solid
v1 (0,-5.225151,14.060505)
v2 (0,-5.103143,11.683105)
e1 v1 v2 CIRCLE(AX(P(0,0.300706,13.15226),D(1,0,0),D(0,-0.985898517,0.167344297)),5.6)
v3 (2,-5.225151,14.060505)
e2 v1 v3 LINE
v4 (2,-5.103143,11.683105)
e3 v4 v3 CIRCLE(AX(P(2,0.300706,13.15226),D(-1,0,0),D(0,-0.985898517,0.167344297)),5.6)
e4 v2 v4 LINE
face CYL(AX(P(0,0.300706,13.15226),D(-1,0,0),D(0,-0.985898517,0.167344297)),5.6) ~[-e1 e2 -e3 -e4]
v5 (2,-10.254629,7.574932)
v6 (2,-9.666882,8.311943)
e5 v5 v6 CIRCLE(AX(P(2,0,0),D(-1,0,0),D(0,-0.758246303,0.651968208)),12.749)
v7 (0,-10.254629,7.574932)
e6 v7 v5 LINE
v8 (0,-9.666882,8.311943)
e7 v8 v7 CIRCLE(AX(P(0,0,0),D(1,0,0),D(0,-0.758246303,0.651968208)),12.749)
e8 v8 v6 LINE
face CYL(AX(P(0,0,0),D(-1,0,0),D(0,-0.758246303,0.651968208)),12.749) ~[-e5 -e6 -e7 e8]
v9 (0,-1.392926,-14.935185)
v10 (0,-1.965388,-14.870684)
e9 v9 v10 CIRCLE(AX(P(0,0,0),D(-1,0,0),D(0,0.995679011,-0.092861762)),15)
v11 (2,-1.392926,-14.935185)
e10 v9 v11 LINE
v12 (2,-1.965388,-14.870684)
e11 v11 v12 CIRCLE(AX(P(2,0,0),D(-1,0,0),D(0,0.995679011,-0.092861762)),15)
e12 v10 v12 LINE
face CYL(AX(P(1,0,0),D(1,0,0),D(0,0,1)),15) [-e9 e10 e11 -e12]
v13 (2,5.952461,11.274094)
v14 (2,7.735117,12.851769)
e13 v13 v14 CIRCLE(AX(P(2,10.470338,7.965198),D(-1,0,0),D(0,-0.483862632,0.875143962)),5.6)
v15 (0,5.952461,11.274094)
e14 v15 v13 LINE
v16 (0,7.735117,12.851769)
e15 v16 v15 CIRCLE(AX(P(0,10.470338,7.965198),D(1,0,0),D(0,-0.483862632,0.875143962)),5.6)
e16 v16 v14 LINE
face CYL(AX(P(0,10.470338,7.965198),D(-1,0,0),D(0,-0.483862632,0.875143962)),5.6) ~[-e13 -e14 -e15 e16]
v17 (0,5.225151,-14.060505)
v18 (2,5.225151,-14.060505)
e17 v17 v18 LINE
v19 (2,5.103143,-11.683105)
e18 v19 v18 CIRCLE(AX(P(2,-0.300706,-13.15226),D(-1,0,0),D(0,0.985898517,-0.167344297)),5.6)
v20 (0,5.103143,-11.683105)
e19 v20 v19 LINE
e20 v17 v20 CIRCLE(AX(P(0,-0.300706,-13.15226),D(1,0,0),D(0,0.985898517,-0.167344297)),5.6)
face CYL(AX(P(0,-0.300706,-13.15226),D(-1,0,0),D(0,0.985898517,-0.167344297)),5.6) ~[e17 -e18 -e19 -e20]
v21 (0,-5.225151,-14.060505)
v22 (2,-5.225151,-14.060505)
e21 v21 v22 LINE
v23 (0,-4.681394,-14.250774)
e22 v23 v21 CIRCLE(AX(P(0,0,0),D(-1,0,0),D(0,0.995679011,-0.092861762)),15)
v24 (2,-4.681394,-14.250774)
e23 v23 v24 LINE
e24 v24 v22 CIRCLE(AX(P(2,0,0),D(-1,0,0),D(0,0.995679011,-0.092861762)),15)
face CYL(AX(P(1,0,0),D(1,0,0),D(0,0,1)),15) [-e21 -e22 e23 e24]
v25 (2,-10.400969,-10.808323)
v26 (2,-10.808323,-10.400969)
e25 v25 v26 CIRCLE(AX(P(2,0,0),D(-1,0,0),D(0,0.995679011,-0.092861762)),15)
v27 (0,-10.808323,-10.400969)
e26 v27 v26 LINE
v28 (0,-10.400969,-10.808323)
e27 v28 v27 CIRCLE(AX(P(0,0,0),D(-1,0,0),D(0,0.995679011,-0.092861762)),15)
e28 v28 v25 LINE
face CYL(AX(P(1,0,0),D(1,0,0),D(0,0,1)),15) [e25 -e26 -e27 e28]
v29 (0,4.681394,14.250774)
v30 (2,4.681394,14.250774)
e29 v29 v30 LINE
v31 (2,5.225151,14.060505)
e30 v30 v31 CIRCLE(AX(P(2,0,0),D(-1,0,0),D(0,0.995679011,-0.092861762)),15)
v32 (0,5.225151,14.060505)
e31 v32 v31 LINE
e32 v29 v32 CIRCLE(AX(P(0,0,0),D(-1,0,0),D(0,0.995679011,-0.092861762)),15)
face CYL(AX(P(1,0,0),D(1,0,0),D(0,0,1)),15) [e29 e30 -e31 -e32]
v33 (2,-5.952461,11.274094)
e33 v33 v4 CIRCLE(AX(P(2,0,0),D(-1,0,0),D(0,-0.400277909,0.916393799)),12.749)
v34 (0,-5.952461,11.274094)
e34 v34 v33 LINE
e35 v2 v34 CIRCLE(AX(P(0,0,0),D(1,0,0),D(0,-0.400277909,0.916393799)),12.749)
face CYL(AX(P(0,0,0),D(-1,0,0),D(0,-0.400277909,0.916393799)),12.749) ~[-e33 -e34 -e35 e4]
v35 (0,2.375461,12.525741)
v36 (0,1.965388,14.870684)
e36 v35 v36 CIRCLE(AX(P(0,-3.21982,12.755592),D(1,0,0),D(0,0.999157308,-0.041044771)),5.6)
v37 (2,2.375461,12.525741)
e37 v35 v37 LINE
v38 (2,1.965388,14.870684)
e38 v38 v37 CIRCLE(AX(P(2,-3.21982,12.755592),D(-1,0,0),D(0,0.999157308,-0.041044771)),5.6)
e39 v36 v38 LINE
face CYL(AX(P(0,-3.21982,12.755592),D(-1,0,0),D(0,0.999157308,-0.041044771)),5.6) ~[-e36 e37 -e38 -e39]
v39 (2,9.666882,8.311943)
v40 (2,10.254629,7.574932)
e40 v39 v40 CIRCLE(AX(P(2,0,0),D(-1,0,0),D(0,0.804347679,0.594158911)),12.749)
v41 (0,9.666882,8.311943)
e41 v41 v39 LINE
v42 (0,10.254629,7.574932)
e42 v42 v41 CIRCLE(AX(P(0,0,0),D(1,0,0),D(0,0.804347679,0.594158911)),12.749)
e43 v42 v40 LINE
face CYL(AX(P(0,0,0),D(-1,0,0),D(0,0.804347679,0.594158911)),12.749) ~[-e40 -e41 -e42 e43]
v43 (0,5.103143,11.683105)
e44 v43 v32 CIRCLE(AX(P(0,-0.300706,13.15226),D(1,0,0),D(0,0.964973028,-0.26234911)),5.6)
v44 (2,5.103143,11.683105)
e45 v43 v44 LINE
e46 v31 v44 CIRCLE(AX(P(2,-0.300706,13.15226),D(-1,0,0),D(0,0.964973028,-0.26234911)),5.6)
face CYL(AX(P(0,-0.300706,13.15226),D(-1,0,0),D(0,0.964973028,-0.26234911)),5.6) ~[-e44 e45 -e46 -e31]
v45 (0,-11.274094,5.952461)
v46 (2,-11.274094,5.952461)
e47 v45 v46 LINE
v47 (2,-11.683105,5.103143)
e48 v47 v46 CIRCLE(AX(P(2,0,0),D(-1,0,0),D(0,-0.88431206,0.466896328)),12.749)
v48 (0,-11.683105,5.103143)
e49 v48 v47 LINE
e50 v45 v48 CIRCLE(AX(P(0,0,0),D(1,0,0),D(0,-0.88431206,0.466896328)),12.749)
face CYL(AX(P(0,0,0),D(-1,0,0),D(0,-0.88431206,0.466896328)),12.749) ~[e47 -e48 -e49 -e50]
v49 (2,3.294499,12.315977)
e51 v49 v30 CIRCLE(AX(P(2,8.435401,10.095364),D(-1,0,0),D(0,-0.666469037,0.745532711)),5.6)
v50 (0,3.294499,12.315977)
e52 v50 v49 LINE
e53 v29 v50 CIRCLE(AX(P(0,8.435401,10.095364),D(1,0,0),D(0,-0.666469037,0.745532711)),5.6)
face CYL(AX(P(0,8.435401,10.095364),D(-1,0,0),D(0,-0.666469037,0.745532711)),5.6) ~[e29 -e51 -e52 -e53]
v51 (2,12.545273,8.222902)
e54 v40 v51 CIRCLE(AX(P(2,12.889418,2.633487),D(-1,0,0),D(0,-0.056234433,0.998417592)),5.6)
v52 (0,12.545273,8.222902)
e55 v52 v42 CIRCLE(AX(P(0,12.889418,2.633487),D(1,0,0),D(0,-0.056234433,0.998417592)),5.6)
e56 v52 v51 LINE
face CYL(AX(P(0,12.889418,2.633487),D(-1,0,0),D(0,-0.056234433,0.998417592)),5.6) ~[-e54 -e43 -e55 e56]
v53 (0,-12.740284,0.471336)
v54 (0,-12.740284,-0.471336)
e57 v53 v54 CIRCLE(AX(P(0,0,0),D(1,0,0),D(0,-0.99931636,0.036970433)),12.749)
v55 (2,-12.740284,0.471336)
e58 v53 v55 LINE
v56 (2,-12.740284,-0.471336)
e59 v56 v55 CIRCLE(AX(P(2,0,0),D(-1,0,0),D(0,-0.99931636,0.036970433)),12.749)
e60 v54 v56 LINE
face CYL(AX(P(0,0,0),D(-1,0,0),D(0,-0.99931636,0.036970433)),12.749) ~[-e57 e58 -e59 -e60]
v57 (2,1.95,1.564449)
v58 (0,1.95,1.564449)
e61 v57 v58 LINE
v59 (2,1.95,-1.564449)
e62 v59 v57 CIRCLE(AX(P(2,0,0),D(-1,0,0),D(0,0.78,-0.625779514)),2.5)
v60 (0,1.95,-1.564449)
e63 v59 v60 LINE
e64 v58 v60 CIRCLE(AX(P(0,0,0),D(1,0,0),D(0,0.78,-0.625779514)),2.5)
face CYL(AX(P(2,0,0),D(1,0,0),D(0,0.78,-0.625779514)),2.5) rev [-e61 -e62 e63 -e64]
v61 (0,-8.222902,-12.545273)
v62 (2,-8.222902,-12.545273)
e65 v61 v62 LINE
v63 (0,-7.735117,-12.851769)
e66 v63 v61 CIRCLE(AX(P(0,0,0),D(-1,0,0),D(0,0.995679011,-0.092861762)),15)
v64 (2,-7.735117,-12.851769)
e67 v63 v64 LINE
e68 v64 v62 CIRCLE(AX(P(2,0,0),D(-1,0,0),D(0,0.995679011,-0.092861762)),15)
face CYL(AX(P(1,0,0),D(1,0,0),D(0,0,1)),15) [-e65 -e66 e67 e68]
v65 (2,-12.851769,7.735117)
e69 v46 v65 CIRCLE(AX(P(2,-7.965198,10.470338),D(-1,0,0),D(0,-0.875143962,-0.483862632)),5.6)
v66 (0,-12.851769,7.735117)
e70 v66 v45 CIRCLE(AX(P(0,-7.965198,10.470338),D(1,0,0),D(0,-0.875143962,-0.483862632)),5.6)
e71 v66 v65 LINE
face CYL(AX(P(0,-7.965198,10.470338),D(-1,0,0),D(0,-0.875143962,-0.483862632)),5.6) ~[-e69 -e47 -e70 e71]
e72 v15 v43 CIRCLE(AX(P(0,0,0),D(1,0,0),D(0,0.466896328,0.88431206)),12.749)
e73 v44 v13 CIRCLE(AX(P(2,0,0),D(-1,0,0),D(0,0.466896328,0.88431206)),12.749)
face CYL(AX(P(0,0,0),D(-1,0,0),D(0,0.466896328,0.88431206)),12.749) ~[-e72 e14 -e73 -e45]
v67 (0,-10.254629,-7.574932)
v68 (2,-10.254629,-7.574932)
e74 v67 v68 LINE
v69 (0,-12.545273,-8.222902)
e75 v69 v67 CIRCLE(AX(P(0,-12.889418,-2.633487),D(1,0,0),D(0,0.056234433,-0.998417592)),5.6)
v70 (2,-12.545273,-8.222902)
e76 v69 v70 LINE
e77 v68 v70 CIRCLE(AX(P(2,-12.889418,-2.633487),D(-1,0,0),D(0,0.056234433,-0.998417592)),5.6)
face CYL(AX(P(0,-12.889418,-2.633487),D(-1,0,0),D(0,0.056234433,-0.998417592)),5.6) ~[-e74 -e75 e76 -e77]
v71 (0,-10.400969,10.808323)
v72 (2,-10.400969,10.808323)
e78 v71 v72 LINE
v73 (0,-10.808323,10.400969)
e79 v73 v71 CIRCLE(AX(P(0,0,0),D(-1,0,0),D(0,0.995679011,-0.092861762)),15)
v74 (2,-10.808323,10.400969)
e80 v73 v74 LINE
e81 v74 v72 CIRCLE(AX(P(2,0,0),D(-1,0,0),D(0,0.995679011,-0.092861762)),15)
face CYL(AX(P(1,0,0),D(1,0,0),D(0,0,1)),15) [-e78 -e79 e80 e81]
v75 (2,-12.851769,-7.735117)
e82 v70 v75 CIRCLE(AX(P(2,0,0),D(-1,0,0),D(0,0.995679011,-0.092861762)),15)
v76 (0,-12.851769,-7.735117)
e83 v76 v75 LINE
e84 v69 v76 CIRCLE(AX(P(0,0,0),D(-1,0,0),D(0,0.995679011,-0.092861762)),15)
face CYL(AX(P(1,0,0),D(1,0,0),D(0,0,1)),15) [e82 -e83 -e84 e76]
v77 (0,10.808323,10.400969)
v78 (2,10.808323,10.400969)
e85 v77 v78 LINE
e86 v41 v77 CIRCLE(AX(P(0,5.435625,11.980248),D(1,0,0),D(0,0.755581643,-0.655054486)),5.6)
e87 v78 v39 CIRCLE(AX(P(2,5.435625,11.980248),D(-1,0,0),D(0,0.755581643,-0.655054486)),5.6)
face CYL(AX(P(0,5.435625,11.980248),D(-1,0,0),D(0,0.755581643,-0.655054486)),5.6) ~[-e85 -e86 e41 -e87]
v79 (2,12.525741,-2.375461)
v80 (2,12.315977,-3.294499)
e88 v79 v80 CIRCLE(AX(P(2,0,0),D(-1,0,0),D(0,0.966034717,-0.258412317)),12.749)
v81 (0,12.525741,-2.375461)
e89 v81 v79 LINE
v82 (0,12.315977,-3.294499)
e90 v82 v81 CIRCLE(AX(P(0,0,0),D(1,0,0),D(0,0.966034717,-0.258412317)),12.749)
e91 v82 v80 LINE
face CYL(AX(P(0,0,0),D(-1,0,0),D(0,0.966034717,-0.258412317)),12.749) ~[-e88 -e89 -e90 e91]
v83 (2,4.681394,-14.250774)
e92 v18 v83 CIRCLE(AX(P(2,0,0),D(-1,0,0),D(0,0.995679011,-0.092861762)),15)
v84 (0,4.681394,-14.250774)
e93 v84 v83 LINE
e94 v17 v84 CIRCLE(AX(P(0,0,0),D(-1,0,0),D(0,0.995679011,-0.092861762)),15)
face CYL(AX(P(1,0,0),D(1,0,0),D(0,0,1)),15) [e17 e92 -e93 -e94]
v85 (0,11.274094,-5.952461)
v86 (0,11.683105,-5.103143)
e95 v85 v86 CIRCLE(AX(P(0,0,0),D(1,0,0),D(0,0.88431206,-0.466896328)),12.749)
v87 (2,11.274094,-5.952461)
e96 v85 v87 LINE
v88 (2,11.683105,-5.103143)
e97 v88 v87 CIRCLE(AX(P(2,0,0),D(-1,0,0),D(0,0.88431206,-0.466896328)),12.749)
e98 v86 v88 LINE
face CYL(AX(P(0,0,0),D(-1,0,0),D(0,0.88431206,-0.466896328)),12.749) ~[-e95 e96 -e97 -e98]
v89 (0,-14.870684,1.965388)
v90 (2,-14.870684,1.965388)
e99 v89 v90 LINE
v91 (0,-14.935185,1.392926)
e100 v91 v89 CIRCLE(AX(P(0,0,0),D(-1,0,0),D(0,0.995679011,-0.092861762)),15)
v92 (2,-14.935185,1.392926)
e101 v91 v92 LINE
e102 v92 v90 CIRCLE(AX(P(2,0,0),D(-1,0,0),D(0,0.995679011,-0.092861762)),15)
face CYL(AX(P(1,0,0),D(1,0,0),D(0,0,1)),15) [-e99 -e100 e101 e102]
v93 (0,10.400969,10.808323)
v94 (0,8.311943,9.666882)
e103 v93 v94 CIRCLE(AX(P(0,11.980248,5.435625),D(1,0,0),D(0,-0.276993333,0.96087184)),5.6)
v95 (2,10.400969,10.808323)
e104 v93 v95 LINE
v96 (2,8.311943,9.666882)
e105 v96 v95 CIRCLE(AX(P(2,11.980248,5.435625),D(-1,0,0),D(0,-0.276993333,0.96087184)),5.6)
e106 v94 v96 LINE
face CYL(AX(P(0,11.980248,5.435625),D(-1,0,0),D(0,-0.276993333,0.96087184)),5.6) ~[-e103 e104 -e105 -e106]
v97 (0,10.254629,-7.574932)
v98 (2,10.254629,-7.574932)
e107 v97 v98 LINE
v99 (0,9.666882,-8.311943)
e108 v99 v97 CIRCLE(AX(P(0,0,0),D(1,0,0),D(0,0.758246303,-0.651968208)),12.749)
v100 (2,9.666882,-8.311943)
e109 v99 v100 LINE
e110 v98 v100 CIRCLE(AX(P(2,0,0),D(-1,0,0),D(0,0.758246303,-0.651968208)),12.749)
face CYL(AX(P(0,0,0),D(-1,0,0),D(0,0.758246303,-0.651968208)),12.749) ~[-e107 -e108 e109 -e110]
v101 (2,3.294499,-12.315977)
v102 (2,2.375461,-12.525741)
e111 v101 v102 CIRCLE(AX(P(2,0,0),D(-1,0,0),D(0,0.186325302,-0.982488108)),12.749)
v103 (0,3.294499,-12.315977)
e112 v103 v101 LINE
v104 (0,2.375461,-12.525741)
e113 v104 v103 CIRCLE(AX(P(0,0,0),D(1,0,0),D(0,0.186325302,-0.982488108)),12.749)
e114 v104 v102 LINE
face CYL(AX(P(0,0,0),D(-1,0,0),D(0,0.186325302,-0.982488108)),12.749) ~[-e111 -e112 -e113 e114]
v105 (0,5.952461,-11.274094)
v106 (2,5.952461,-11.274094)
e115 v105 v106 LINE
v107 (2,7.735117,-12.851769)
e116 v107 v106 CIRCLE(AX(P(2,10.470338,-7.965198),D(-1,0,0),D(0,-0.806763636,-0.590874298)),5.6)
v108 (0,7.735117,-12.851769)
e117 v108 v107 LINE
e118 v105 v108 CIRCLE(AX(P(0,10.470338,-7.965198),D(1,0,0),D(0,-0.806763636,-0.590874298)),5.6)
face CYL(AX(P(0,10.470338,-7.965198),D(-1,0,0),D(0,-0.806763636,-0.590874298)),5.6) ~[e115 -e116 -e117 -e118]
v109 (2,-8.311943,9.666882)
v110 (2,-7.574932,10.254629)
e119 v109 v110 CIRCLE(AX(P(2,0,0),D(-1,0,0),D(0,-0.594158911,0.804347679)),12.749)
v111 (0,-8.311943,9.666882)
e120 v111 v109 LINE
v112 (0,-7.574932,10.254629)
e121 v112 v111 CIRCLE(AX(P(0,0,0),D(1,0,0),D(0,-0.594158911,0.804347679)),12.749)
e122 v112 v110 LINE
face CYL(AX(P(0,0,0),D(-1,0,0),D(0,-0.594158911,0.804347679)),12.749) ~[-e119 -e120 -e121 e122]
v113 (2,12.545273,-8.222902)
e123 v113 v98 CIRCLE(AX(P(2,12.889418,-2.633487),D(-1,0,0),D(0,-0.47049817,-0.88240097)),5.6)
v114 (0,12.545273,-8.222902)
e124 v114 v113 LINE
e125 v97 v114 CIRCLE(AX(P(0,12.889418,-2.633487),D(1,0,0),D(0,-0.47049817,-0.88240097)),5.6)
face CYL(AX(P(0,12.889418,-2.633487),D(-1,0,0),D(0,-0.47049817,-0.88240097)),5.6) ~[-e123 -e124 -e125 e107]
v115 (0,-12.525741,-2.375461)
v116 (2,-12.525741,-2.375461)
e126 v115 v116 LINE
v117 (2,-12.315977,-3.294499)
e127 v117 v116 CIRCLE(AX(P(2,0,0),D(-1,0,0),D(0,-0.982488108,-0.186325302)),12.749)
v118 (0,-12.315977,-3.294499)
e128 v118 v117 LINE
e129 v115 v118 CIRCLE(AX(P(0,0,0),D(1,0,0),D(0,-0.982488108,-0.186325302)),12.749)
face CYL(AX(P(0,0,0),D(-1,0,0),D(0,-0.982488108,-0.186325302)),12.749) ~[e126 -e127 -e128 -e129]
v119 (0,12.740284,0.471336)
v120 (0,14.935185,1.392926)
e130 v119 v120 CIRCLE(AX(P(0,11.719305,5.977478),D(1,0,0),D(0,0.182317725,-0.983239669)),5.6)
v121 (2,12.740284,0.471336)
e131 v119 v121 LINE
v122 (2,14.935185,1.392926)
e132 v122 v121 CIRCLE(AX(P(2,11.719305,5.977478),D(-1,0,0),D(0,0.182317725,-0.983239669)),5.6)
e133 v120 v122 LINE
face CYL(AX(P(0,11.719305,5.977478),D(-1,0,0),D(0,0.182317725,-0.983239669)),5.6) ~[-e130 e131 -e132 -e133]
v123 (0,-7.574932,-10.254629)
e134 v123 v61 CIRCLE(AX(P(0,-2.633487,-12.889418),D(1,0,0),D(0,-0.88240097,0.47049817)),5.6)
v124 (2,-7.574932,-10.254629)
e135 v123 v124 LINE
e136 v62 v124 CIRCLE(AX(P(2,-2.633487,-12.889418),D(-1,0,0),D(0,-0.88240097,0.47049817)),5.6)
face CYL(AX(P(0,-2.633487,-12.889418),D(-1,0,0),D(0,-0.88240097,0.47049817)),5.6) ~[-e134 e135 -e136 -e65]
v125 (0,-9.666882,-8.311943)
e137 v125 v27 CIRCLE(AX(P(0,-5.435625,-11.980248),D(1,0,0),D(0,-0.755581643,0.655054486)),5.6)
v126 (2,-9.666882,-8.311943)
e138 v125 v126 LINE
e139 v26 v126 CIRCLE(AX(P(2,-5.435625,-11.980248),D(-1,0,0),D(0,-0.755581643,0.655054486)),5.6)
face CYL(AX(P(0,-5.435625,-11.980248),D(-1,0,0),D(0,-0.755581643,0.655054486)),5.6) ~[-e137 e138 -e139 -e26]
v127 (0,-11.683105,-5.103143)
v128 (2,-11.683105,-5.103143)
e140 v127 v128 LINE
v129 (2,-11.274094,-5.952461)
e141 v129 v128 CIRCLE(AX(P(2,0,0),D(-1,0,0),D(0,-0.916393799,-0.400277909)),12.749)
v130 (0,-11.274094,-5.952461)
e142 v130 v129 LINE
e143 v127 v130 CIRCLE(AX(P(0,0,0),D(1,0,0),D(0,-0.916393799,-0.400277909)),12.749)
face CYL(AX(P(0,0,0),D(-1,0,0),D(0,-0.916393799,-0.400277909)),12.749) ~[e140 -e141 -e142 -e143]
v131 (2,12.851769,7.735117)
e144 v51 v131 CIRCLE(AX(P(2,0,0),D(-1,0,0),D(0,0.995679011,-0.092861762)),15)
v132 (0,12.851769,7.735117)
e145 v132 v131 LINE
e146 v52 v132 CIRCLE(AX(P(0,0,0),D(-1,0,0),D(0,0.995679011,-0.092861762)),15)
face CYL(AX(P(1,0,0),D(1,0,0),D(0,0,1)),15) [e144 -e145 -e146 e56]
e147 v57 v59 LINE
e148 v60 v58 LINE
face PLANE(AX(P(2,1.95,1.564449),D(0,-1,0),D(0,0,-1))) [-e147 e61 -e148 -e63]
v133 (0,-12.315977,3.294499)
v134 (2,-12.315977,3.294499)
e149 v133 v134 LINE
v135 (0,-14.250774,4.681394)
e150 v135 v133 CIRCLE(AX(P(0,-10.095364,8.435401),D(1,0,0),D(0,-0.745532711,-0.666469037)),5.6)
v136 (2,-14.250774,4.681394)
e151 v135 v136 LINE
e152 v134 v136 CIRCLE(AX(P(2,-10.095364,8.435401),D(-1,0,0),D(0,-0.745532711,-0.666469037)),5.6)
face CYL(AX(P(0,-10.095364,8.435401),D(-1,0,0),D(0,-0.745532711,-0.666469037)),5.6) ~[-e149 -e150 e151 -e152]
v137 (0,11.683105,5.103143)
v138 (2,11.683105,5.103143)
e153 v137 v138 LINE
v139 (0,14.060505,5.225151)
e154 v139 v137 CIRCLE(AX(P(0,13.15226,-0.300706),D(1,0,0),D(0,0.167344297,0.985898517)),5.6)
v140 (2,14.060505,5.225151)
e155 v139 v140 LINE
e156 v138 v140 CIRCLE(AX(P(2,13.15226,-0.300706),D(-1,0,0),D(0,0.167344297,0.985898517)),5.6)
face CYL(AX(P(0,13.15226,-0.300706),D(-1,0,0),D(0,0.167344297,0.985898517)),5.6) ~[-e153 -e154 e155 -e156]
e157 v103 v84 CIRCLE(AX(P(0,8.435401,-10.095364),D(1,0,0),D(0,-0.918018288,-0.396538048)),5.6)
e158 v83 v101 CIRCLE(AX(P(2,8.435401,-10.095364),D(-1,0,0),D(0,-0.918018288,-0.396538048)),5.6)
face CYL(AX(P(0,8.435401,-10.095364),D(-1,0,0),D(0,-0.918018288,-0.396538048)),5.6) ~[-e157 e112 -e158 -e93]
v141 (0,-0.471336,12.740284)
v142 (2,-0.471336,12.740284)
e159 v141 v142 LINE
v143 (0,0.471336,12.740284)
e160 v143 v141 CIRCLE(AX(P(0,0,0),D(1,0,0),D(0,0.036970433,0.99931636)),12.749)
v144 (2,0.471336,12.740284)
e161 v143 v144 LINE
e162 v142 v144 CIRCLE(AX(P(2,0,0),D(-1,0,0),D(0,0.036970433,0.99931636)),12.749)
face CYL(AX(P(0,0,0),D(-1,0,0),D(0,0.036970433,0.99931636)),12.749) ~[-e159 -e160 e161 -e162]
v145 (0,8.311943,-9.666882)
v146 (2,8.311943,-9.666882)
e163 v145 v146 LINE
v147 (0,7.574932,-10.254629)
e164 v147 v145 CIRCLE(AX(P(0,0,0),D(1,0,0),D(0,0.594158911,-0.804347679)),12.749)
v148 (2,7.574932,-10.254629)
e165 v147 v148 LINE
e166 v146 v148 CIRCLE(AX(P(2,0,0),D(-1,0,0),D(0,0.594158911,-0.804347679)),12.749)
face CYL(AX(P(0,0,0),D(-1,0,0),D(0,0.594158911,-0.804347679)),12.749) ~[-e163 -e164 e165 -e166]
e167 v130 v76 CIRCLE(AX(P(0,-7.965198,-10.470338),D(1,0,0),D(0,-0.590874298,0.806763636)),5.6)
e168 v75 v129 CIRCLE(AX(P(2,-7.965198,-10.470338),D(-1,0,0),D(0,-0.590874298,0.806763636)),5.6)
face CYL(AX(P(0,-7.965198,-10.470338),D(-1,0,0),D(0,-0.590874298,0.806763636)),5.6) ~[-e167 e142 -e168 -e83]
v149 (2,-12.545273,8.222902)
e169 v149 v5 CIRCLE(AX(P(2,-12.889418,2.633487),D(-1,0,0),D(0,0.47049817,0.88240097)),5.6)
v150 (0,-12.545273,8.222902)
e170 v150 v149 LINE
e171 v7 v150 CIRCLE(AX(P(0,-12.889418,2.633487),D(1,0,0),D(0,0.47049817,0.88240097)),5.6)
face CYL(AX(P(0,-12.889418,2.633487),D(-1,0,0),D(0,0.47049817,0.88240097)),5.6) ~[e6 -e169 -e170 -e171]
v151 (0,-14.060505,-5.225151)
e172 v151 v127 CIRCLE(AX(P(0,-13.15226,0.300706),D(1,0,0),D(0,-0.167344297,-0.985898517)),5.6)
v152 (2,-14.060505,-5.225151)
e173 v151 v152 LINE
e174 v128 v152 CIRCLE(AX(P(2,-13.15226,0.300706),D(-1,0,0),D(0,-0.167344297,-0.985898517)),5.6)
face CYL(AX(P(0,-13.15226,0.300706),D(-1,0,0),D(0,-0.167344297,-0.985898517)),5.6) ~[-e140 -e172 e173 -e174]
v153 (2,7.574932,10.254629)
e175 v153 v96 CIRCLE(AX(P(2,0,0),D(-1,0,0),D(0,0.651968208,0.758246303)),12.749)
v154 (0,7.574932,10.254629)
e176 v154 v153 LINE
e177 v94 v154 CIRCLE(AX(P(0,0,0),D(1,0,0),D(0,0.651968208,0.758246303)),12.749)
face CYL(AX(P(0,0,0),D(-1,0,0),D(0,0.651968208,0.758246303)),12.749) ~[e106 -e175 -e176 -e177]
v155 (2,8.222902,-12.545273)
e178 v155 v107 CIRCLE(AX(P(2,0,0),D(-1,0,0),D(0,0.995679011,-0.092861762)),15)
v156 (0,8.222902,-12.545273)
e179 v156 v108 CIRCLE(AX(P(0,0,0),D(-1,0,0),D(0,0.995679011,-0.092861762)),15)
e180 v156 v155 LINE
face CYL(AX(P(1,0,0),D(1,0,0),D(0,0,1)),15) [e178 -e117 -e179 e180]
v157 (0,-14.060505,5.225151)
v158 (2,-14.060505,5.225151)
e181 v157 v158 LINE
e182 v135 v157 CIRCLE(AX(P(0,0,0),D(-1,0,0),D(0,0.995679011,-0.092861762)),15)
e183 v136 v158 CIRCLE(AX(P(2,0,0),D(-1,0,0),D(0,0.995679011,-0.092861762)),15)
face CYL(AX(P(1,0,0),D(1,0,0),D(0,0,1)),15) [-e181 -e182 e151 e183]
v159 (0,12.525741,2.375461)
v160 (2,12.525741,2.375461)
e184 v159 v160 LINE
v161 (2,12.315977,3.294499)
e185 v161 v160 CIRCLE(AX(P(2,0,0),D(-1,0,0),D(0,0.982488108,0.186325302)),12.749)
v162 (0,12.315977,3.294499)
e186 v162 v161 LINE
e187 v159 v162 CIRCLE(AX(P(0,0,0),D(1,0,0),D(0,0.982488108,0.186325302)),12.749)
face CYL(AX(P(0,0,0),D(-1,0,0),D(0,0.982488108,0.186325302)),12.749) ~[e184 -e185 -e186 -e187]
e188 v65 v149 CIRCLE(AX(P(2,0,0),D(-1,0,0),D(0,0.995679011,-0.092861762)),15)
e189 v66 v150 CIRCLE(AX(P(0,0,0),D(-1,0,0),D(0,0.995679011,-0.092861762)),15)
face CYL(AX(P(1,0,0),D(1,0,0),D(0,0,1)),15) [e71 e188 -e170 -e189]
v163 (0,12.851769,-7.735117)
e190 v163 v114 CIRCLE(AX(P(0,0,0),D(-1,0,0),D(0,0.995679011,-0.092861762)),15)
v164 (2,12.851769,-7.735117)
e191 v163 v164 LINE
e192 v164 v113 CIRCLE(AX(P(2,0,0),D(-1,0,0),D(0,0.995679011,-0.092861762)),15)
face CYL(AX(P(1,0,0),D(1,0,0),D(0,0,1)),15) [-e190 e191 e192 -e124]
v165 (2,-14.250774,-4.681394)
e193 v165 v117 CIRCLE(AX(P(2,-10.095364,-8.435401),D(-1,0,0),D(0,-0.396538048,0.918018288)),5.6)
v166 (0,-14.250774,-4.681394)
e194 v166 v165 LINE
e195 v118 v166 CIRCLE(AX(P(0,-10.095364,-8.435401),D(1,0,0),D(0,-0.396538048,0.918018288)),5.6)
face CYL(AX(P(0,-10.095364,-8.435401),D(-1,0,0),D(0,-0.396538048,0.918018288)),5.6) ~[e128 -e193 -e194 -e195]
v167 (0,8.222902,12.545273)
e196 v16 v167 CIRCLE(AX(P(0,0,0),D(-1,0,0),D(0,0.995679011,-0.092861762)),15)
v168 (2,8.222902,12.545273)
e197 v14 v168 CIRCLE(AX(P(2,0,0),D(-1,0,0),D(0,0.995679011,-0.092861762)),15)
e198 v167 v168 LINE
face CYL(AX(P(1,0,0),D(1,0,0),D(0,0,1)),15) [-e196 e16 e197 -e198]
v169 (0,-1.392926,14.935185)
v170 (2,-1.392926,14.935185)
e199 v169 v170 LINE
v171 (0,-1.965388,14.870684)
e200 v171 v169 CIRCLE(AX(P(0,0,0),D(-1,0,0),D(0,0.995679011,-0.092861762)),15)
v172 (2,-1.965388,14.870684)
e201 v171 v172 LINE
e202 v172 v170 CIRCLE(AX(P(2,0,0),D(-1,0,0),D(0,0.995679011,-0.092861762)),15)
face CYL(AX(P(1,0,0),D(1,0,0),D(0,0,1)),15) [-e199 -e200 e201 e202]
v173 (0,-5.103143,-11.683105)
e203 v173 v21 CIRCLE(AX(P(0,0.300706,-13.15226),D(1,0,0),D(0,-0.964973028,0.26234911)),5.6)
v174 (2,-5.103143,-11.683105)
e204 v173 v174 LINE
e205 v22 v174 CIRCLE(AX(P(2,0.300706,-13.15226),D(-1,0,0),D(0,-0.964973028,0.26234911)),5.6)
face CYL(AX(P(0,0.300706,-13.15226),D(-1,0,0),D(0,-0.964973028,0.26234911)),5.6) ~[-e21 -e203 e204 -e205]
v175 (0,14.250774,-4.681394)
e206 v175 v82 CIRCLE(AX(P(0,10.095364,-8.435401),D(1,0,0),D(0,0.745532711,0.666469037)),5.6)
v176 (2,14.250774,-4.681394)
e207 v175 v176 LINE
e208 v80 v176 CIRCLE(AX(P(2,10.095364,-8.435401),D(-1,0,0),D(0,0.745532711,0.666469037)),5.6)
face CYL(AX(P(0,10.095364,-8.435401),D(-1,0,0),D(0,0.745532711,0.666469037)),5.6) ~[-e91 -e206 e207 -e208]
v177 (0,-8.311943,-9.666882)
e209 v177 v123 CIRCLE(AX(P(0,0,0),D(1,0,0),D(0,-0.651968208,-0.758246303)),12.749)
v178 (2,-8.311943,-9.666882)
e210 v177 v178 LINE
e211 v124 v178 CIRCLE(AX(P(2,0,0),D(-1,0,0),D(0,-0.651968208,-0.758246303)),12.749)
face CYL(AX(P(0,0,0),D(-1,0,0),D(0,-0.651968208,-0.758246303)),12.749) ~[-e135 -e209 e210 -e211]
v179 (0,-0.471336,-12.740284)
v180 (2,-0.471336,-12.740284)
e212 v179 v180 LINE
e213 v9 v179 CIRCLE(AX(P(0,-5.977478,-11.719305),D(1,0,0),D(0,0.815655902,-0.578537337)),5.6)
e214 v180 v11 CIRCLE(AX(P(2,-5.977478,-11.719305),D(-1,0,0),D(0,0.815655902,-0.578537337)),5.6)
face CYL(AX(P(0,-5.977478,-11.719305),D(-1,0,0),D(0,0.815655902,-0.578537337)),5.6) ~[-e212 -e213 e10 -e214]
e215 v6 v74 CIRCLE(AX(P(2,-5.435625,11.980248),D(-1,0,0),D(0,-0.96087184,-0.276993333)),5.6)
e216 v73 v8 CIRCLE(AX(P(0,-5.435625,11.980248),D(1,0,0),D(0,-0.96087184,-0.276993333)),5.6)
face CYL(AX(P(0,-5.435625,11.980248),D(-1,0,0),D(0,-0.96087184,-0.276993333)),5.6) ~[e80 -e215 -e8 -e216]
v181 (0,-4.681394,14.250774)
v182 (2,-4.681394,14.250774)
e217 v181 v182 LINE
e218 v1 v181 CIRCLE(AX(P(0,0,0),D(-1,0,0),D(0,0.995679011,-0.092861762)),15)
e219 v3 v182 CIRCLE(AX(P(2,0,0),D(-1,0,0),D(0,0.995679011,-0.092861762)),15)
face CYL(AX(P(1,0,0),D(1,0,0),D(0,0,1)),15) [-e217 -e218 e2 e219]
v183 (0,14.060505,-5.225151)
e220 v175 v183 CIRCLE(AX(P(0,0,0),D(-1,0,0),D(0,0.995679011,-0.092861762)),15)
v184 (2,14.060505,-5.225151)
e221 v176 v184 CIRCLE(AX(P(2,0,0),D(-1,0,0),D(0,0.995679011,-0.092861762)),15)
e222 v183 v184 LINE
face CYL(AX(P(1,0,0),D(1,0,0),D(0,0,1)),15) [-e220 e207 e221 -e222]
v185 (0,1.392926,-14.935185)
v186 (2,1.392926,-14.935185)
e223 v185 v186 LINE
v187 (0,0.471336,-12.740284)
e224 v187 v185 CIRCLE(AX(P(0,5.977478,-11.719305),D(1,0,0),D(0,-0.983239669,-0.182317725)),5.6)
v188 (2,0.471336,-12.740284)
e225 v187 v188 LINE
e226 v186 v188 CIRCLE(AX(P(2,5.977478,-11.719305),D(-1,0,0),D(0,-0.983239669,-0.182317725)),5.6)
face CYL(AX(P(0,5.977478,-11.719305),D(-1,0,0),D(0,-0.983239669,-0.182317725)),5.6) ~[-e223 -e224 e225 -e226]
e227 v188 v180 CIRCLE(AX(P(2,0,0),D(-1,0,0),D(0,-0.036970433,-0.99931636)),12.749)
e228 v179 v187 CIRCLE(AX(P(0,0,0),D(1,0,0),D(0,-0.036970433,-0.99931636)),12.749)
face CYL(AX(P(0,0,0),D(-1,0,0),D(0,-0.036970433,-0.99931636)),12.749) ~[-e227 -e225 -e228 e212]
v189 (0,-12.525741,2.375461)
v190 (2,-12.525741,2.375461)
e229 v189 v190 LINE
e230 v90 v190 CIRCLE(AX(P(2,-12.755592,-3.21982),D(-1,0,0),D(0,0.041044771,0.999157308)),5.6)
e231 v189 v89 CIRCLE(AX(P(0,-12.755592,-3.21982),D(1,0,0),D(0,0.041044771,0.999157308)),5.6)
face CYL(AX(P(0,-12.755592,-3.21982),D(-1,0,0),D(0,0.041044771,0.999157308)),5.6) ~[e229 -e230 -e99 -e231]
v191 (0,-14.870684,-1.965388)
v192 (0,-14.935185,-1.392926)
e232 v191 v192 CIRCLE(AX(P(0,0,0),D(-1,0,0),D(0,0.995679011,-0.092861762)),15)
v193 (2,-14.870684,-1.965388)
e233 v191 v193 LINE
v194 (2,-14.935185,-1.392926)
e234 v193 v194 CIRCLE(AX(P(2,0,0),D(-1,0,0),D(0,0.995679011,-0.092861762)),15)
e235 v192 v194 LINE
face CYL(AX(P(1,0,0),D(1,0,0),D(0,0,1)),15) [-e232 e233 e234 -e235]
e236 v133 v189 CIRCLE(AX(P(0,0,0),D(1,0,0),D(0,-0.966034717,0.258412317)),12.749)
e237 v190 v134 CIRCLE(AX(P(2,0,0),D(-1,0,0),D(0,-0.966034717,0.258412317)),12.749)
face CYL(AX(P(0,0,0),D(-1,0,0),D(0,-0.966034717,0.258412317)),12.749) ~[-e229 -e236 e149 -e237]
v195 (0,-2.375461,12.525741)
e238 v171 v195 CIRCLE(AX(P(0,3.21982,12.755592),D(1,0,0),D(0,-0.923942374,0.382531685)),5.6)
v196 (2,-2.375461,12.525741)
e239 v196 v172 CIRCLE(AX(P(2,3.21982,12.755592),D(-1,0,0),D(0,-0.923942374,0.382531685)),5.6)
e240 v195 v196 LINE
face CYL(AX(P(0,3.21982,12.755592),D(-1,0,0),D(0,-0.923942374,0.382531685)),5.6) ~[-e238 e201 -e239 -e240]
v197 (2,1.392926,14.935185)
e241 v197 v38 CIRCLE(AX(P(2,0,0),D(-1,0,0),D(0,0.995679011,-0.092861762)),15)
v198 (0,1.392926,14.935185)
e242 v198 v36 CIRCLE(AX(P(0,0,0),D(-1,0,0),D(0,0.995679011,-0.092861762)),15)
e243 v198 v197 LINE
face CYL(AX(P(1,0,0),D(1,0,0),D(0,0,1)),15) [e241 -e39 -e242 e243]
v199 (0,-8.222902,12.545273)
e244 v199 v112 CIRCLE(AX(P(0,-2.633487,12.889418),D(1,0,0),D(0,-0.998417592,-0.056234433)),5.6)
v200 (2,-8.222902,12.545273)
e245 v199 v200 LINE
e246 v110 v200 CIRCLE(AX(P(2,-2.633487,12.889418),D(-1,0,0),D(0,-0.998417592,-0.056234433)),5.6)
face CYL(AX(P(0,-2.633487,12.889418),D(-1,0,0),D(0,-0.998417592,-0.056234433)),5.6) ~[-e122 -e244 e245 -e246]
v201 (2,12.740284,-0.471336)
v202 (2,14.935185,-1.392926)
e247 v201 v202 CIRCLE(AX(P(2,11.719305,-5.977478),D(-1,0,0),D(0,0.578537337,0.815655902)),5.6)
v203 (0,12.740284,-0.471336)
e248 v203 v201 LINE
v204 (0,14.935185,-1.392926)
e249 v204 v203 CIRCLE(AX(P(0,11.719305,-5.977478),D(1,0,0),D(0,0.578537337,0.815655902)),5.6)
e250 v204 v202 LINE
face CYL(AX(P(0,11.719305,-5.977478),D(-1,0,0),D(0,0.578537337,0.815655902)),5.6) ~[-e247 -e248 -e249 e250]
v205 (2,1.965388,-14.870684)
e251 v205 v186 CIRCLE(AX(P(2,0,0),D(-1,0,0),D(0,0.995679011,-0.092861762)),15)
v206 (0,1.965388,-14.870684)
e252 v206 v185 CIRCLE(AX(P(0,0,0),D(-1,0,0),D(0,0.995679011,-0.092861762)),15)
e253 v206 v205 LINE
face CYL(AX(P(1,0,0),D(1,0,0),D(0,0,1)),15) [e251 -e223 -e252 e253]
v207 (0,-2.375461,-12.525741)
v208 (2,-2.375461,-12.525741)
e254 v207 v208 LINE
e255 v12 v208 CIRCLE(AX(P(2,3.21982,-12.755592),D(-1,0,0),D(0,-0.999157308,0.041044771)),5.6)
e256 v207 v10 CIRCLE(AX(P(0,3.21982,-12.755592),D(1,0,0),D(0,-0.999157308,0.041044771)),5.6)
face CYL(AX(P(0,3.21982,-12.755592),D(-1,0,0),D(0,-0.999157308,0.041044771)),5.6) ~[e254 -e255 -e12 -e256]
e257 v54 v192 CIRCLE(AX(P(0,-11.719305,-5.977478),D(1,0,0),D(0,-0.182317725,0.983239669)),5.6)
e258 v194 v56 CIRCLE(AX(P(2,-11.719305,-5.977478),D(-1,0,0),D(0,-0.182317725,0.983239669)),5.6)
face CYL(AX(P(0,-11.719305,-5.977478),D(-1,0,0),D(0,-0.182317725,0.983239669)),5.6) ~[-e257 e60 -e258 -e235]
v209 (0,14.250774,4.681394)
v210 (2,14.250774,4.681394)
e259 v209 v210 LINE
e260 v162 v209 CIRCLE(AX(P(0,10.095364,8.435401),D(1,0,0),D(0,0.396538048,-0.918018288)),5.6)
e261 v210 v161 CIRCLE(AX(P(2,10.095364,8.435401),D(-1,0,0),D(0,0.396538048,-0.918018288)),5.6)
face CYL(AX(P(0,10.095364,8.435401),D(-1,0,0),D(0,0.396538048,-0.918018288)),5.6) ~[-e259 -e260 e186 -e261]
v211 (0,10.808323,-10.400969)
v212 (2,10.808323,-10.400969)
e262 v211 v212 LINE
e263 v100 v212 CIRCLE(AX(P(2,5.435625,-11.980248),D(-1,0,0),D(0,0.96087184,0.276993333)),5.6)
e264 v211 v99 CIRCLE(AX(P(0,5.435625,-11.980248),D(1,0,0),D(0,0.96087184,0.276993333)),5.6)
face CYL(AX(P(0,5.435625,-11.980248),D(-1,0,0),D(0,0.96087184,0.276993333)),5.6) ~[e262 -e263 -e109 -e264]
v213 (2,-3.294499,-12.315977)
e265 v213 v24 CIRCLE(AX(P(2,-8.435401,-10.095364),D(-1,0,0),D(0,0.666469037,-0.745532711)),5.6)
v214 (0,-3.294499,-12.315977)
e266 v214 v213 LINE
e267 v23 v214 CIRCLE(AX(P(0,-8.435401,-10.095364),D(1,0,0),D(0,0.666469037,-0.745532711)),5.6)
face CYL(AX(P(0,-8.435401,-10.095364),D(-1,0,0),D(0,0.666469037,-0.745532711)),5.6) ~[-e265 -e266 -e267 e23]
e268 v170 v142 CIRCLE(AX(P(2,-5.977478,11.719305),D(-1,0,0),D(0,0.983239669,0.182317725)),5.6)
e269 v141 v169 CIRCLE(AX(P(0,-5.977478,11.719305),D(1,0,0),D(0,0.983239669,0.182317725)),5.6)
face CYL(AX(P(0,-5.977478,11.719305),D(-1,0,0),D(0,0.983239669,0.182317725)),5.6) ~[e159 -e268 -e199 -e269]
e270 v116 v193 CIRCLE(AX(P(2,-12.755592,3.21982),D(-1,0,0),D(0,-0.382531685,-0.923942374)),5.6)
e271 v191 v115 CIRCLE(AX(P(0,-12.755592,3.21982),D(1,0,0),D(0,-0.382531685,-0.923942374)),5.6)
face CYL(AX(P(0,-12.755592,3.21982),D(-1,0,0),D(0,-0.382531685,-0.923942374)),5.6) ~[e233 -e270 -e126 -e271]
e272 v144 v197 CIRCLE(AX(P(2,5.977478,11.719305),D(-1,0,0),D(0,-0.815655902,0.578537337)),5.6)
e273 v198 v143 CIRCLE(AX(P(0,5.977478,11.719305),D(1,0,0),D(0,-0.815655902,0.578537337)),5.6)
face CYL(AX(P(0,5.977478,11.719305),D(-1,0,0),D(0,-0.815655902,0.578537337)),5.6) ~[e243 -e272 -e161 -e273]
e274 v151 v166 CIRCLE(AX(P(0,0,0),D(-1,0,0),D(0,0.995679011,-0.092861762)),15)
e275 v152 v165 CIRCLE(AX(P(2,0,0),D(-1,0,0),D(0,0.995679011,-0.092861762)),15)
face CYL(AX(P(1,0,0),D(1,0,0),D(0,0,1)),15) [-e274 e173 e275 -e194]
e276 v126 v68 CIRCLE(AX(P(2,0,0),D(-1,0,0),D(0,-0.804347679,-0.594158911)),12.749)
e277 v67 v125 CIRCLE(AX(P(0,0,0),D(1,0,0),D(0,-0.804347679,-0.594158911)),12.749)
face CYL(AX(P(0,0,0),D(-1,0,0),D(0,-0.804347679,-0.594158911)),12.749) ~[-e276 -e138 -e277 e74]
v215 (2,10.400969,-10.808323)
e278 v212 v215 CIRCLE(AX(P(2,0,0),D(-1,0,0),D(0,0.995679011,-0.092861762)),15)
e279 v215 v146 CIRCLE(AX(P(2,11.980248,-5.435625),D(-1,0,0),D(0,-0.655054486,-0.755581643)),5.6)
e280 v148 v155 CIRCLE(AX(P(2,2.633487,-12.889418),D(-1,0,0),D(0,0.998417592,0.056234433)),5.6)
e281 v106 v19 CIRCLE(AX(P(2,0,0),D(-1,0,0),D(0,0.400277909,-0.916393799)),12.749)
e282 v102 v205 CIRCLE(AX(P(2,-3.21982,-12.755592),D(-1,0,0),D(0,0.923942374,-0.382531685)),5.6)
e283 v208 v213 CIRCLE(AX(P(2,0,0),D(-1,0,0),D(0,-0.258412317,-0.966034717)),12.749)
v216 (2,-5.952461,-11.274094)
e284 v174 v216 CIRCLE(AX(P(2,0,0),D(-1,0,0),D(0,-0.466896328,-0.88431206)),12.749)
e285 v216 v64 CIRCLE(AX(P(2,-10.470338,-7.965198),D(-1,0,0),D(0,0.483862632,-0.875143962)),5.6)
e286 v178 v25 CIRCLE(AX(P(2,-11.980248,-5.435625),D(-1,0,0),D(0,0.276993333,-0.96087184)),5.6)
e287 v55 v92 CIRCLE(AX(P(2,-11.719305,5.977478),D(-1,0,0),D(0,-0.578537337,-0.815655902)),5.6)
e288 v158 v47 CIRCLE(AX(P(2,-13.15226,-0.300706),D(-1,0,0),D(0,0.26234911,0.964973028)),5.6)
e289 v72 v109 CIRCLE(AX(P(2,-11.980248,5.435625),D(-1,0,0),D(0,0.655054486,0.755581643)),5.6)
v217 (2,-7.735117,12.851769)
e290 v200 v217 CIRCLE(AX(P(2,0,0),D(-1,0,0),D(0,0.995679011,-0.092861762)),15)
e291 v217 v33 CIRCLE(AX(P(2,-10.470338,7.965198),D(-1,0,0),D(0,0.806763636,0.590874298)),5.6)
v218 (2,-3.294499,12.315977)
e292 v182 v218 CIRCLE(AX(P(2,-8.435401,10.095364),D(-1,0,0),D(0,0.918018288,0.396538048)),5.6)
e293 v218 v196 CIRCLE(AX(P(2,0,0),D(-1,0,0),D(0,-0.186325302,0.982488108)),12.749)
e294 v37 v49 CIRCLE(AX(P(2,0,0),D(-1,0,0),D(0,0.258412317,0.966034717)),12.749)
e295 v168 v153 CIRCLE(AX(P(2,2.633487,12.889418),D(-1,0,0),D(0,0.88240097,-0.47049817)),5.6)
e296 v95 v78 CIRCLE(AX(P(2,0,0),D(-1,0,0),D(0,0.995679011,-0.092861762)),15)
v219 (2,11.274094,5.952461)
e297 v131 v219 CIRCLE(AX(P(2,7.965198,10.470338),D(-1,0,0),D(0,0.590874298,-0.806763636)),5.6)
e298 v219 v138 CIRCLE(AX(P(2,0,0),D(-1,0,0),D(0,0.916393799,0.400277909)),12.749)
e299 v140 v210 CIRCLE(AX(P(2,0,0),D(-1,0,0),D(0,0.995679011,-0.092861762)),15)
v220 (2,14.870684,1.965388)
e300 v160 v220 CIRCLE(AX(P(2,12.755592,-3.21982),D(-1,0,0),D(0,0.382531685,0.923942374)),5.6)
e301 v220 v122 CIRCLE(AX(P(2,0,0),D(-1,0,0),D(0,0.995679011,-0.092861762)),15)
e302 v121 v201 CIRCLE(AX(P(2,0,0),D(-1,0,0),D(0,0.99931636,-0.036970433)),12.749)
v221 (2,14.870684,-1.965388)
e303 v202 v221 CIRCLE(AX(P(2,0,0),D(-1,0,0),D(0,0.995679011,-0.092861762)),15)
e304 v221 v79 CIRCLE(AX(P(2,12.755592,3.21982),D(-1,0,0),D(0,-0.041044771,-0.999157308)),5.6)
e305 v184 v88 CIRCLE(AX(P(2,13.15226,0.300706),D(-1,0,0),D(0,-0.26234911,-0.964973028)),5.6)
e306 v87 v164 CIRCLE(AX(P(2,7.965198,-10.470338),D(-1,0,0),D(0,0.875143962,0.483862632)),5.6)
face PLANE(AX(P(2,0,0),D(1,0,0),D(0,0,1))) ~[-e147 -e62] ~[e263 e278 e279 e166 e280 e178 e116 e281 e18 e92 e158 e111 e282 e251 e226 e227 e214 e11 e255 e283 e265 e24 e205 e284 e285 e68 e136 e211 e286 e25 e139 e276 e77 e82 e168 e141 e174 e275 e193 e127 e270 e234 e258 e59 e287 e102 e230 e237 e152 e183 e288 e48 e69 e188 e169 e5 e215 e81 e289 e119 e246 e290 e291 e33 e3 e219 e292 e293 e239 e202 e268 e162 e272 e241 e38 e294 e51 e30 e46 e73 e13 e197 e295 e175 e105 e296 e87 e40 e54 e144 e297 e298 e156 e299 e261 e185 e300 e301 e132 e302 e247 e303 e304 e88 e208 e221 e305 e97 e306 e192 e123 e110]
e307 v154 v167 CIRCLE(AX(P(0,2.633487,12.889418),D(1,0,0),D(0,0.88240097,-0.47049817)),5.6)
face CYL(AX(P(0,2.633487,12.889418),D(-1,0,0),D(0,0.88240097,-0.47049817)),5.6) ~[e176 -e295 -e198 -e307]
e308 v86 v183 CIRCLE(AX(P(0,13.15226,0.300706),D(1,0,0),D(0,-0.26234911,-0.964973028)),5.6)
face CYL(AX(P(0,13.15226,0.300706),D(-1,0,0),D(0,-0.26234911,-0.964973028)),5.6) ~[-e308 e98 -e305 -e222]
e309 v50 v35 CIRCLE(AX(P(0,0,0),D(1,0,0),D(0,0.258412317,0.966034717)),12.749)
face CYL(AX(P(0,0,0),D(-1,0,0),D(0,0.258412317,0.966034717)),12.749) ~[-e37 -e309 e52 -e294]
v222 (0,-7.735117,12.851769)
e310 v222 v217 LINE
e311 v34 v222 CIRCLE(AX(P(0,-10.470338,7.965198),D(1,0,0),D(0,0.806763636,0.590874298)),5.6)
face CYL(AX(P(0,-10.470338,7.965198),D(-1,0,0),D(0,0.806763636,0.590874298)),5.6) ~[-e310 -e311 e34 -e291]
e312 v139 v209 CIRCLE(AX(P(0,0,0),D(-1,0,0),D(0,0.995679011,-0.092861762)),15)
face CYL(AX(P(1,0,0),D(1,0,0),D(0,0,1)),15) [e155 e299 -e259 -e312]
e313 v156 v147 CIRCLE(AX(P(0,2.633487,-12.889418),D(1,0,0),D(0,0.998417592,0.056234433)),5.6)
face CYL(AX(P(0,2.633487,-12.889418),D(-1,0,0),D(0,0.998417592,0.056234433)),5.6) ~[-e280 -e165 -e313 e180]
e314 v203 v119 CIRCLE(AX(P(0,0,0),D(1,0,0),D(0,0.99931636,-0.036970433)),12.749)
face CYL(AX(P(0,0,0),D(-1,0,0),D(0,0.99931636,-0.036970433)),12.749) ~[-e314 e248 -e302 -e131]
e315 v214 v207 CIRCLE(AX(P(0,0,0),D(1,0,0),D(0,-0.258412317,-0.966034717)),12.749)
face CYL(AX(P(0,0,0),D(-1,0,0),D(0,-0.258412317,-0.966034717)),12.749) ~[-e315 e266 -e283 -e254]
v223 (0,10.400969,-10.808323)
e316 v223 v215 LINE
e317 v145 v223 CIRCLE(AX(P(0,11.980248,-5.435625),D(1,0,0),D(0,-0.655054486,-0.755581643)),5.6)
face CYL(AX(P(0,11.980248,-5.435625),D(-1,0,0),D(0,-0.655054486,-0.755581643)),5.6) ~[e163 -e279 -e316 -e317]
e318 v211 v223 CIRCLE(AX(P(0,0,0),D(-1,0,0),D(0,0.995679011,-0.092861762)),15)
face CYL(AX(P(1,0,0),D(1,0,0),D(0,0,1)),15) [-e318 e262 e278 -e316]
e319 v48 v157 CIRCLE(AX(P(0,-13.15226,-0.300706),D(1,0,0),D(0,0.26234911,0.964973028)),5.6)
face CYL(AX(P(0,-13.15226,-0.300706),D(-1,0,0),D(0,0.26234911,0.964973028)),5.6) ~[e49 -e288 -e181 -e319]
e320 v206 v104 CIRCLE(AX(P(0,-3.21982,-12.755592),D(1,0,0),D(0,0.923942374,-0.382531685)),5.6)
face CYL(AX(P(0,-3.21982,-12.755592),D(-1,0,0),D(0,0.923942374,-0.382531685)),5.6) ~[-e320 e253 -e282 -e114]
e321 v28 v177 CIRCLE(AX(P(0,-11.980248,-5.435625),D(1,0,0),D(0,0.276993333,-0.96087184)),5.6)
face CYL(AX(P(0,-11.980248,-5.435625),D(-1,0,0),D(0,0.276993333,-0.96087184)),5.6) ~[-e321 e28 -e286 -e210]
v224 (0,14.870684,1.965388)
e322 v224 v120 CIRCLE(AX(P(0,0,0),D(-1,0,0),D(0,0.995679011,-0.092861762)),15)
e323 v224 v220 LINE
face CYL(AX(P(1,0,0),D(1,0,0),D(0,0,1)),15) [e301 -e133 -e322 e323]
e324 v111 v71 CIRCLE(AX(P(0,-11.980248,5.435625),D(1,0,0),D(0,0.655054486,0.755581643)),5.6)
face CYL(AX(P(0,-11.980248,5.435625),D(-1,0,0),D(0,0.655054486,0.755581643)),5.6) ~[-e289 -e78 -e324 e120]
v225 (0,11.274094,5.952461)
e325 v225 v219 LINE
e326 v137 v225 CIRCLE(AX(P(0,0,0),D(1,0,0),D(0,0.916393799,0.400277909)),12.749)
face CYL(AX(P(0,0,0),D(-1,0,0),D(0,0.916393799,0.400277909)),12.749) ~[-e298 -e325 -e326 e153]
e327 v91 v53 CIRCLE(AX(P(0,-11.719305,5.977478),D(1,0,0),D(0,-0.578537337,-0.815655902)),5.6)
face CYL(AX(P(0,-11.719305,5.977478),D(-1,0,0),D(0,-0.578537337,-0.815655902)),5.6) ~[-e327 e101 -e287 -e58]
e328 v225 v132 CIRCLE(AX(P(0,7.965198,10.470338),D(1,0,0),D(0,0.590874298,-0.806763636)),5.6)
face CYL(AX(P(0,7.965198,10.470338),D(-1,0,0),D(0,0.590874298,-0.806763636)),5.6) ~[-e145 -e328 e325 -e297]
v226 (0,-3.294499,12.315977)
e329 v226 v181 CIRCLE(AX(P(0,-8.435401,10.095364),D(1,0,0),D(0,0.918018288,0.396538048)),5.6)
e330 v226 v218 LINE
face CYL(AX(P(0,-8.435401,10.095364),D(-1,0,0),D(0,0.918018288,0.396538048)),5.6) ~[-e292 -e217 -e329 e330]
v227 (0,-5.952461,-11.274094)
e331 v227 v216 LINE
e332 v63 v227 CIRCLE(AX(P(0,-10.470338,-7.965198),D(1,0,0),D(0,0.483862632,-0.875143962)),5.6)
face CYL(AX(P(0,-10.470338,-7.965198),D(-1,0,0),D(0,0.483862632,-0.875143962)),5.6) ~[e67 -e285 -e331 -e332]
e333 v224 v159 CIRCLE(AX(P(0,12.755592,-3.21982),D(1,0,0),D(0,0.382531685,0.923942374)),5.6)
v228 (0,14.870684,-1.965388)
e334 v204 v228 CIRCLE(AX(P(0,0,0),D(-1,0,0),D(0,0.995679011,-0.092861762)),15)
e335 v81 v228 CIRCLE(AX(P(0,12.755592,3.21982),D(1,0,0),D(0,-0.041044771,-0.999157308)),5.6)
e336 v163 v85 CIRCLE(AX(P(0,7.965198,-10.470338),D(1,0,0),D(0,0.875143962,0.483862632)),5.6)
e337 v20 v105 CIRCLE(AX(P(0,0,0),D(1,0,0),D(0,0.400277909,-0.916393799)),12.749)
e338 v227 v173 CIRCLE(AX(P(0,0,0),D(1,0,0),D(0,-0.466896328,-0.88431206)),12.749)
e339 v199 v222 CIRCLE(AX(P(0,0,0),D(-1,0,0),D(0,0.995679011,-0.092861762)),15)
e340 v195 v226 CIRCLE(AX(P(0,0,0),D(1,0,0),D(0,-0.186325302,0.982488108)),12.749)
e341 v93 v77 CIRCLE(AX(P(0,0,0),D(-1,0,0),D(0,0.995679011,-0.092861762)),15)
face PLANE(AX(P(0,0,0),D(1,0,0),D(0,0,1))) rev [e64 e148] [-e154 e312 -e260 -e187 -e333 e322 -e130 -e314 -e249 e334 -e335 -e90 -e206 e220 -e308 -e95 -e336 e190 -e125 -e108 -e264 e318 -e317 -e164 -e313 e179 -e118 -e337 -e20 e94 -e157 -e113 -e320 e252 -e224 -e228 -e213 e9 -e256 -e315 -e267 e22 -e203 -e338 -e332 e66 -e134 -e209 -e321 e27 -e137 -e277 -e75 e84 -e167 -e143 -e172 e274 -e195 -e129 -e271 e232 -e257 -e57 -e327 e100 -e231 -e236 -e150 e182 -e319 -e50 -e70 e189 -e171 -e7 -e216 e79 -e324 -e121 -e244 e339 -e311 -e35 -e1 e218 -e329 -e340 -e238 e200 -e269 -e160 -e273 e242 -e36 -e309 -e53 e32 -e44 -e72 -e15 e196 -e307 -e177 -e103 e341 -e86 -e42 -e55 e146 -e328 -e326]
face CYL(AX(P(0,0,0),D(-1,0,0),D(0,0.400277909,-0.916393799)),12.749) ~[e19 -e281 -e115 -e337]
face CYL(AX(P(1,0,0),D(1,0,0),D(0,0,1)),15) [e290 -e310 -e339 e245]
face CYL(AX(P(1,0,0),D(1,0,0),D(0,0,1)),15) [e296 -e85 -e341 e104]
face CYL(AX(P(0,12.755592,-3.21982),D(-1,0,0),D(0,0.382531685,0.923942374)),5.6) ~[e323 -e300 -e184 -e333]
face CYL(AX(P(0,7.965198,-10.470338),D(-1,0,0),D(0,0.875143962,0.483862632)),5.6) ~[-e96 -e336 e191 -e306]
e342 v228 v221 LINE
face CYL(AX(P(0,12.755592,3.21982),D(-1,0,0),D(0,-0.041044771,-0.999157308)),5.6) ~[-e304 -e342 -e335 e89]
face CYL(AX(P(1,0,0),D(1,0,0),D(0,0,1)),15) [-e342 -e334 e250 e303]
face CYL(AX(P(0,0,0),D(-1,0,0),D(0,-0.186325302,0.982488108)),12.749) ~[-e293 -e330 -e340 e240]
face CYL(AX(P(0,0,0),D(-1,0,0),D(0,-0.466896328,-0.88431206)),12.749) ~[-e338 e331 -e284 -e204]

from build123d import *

# Parameters (mm, degrees)
BASPROSKE_W        = 2
BASPROSKE_H        = 15
TOOTHCUT_DEPTH     = 22.307275753
TEETHCUTS_COUNT    = 28
TEETHCUTS_ANGLE    = 347.142857143
BORSKE_R           = 1.5
BORE_DEPTH         = 50.0000508
CUT_EXTRUDE1_DEPTH = 10


with BuildPart() as part:
    # BasProSke → Base-Revolve (revolve)
    with BuildSketch(Plane(origin=(0, 0, 0), x_dir=(1, 0, 0), z_dir=(0, 1, 0)), mode=Mode.PRIVATE) as base_revolve_sk:
        with Locations((1, 7.5)):
            Rectangle(BASPROSKE_W, BASPROSKE_H)
    revolve(base_revolve_sk.sketch.rotate(Axis((-10, 0, 0), (1, 0, 0)), 180), axis=Axis((-10, 0, 0), (1, 0, 0)))

    # TooCutSke → ToothCut (cut, through all)
    with BuildSketch(Plane(origin=(0, 0, 0), x_dir=(0, 0, -1), z_dir=(1, 0, 0))):
        with BuildLine():
            ThreePointArc((0.471336039, 12.740284272), (0, 12.749), (-0.471336039, 12.740284272))
            ThreePointArc((-0.471336039, 12.740284272), (-0.81983923, 13.900763331), (-1.409805137, 14.959114099))
            ThreePointArc((-1.409805137, 14.959114099), (0, 15.0254), (1.409805137, 14.959114099))
            ThreePointArc((1.409805137, 14.959114099), (0.81983923, 13.900763331), (0.471336039, 12.740284272))
        make_face()
    toothcut = extrude(amount=TOOTHCUT_DEPTH, mode=Mode.SUBTRACT)

    # TeethCuts: ToothCut ×28 about axis
    teethcuts_axis = Axis((-10, 0, 0), (1, 0, 0))
    for i in range(1, TEETHCUTS_COUNT):
        add(toothcut.rotate(teethcuts_axis, i * TEETHCUTS_ANGLE / (TEETHCUTS_COUNT - 1)), mode=Mode.SUBTRACT)

    # BorSke → Bore (cut, symmetric)
    with BuildSketch(Plane(origin=(0, 0, 0), x_dir=(0, 0, -1), z_dir=(1, 0, 0))):
        with Locations(Location((0, 0, 0), (0, 0, 180))):
            Circle(BORSKE_R)
    extrude(amount=BORE_DEPTH, both=True, mode=Mode.SUBTRACT)

    # Sketch1 → Cut-Extrude1 (cut)
    with BuildSketch(Plane(origin=(2, 0, 0), x_dir=(0, 0, -1), z_dir=(1, 0, 0))):
        with BuildLine():
            Line((0, 1.95), (1.564448785, 1.95))
            ThreePointArc((1.564448785, 1.95), (0, -2.5), (-1.564448785, 1.95))
            Line((-1.564448785, 1.95), (0, 1.95))
        make_face()
    extrude(amount=-CUT_EXTRUDE1_DEPTH, mode=Mode.SUBTRACT)


solid = part.part
